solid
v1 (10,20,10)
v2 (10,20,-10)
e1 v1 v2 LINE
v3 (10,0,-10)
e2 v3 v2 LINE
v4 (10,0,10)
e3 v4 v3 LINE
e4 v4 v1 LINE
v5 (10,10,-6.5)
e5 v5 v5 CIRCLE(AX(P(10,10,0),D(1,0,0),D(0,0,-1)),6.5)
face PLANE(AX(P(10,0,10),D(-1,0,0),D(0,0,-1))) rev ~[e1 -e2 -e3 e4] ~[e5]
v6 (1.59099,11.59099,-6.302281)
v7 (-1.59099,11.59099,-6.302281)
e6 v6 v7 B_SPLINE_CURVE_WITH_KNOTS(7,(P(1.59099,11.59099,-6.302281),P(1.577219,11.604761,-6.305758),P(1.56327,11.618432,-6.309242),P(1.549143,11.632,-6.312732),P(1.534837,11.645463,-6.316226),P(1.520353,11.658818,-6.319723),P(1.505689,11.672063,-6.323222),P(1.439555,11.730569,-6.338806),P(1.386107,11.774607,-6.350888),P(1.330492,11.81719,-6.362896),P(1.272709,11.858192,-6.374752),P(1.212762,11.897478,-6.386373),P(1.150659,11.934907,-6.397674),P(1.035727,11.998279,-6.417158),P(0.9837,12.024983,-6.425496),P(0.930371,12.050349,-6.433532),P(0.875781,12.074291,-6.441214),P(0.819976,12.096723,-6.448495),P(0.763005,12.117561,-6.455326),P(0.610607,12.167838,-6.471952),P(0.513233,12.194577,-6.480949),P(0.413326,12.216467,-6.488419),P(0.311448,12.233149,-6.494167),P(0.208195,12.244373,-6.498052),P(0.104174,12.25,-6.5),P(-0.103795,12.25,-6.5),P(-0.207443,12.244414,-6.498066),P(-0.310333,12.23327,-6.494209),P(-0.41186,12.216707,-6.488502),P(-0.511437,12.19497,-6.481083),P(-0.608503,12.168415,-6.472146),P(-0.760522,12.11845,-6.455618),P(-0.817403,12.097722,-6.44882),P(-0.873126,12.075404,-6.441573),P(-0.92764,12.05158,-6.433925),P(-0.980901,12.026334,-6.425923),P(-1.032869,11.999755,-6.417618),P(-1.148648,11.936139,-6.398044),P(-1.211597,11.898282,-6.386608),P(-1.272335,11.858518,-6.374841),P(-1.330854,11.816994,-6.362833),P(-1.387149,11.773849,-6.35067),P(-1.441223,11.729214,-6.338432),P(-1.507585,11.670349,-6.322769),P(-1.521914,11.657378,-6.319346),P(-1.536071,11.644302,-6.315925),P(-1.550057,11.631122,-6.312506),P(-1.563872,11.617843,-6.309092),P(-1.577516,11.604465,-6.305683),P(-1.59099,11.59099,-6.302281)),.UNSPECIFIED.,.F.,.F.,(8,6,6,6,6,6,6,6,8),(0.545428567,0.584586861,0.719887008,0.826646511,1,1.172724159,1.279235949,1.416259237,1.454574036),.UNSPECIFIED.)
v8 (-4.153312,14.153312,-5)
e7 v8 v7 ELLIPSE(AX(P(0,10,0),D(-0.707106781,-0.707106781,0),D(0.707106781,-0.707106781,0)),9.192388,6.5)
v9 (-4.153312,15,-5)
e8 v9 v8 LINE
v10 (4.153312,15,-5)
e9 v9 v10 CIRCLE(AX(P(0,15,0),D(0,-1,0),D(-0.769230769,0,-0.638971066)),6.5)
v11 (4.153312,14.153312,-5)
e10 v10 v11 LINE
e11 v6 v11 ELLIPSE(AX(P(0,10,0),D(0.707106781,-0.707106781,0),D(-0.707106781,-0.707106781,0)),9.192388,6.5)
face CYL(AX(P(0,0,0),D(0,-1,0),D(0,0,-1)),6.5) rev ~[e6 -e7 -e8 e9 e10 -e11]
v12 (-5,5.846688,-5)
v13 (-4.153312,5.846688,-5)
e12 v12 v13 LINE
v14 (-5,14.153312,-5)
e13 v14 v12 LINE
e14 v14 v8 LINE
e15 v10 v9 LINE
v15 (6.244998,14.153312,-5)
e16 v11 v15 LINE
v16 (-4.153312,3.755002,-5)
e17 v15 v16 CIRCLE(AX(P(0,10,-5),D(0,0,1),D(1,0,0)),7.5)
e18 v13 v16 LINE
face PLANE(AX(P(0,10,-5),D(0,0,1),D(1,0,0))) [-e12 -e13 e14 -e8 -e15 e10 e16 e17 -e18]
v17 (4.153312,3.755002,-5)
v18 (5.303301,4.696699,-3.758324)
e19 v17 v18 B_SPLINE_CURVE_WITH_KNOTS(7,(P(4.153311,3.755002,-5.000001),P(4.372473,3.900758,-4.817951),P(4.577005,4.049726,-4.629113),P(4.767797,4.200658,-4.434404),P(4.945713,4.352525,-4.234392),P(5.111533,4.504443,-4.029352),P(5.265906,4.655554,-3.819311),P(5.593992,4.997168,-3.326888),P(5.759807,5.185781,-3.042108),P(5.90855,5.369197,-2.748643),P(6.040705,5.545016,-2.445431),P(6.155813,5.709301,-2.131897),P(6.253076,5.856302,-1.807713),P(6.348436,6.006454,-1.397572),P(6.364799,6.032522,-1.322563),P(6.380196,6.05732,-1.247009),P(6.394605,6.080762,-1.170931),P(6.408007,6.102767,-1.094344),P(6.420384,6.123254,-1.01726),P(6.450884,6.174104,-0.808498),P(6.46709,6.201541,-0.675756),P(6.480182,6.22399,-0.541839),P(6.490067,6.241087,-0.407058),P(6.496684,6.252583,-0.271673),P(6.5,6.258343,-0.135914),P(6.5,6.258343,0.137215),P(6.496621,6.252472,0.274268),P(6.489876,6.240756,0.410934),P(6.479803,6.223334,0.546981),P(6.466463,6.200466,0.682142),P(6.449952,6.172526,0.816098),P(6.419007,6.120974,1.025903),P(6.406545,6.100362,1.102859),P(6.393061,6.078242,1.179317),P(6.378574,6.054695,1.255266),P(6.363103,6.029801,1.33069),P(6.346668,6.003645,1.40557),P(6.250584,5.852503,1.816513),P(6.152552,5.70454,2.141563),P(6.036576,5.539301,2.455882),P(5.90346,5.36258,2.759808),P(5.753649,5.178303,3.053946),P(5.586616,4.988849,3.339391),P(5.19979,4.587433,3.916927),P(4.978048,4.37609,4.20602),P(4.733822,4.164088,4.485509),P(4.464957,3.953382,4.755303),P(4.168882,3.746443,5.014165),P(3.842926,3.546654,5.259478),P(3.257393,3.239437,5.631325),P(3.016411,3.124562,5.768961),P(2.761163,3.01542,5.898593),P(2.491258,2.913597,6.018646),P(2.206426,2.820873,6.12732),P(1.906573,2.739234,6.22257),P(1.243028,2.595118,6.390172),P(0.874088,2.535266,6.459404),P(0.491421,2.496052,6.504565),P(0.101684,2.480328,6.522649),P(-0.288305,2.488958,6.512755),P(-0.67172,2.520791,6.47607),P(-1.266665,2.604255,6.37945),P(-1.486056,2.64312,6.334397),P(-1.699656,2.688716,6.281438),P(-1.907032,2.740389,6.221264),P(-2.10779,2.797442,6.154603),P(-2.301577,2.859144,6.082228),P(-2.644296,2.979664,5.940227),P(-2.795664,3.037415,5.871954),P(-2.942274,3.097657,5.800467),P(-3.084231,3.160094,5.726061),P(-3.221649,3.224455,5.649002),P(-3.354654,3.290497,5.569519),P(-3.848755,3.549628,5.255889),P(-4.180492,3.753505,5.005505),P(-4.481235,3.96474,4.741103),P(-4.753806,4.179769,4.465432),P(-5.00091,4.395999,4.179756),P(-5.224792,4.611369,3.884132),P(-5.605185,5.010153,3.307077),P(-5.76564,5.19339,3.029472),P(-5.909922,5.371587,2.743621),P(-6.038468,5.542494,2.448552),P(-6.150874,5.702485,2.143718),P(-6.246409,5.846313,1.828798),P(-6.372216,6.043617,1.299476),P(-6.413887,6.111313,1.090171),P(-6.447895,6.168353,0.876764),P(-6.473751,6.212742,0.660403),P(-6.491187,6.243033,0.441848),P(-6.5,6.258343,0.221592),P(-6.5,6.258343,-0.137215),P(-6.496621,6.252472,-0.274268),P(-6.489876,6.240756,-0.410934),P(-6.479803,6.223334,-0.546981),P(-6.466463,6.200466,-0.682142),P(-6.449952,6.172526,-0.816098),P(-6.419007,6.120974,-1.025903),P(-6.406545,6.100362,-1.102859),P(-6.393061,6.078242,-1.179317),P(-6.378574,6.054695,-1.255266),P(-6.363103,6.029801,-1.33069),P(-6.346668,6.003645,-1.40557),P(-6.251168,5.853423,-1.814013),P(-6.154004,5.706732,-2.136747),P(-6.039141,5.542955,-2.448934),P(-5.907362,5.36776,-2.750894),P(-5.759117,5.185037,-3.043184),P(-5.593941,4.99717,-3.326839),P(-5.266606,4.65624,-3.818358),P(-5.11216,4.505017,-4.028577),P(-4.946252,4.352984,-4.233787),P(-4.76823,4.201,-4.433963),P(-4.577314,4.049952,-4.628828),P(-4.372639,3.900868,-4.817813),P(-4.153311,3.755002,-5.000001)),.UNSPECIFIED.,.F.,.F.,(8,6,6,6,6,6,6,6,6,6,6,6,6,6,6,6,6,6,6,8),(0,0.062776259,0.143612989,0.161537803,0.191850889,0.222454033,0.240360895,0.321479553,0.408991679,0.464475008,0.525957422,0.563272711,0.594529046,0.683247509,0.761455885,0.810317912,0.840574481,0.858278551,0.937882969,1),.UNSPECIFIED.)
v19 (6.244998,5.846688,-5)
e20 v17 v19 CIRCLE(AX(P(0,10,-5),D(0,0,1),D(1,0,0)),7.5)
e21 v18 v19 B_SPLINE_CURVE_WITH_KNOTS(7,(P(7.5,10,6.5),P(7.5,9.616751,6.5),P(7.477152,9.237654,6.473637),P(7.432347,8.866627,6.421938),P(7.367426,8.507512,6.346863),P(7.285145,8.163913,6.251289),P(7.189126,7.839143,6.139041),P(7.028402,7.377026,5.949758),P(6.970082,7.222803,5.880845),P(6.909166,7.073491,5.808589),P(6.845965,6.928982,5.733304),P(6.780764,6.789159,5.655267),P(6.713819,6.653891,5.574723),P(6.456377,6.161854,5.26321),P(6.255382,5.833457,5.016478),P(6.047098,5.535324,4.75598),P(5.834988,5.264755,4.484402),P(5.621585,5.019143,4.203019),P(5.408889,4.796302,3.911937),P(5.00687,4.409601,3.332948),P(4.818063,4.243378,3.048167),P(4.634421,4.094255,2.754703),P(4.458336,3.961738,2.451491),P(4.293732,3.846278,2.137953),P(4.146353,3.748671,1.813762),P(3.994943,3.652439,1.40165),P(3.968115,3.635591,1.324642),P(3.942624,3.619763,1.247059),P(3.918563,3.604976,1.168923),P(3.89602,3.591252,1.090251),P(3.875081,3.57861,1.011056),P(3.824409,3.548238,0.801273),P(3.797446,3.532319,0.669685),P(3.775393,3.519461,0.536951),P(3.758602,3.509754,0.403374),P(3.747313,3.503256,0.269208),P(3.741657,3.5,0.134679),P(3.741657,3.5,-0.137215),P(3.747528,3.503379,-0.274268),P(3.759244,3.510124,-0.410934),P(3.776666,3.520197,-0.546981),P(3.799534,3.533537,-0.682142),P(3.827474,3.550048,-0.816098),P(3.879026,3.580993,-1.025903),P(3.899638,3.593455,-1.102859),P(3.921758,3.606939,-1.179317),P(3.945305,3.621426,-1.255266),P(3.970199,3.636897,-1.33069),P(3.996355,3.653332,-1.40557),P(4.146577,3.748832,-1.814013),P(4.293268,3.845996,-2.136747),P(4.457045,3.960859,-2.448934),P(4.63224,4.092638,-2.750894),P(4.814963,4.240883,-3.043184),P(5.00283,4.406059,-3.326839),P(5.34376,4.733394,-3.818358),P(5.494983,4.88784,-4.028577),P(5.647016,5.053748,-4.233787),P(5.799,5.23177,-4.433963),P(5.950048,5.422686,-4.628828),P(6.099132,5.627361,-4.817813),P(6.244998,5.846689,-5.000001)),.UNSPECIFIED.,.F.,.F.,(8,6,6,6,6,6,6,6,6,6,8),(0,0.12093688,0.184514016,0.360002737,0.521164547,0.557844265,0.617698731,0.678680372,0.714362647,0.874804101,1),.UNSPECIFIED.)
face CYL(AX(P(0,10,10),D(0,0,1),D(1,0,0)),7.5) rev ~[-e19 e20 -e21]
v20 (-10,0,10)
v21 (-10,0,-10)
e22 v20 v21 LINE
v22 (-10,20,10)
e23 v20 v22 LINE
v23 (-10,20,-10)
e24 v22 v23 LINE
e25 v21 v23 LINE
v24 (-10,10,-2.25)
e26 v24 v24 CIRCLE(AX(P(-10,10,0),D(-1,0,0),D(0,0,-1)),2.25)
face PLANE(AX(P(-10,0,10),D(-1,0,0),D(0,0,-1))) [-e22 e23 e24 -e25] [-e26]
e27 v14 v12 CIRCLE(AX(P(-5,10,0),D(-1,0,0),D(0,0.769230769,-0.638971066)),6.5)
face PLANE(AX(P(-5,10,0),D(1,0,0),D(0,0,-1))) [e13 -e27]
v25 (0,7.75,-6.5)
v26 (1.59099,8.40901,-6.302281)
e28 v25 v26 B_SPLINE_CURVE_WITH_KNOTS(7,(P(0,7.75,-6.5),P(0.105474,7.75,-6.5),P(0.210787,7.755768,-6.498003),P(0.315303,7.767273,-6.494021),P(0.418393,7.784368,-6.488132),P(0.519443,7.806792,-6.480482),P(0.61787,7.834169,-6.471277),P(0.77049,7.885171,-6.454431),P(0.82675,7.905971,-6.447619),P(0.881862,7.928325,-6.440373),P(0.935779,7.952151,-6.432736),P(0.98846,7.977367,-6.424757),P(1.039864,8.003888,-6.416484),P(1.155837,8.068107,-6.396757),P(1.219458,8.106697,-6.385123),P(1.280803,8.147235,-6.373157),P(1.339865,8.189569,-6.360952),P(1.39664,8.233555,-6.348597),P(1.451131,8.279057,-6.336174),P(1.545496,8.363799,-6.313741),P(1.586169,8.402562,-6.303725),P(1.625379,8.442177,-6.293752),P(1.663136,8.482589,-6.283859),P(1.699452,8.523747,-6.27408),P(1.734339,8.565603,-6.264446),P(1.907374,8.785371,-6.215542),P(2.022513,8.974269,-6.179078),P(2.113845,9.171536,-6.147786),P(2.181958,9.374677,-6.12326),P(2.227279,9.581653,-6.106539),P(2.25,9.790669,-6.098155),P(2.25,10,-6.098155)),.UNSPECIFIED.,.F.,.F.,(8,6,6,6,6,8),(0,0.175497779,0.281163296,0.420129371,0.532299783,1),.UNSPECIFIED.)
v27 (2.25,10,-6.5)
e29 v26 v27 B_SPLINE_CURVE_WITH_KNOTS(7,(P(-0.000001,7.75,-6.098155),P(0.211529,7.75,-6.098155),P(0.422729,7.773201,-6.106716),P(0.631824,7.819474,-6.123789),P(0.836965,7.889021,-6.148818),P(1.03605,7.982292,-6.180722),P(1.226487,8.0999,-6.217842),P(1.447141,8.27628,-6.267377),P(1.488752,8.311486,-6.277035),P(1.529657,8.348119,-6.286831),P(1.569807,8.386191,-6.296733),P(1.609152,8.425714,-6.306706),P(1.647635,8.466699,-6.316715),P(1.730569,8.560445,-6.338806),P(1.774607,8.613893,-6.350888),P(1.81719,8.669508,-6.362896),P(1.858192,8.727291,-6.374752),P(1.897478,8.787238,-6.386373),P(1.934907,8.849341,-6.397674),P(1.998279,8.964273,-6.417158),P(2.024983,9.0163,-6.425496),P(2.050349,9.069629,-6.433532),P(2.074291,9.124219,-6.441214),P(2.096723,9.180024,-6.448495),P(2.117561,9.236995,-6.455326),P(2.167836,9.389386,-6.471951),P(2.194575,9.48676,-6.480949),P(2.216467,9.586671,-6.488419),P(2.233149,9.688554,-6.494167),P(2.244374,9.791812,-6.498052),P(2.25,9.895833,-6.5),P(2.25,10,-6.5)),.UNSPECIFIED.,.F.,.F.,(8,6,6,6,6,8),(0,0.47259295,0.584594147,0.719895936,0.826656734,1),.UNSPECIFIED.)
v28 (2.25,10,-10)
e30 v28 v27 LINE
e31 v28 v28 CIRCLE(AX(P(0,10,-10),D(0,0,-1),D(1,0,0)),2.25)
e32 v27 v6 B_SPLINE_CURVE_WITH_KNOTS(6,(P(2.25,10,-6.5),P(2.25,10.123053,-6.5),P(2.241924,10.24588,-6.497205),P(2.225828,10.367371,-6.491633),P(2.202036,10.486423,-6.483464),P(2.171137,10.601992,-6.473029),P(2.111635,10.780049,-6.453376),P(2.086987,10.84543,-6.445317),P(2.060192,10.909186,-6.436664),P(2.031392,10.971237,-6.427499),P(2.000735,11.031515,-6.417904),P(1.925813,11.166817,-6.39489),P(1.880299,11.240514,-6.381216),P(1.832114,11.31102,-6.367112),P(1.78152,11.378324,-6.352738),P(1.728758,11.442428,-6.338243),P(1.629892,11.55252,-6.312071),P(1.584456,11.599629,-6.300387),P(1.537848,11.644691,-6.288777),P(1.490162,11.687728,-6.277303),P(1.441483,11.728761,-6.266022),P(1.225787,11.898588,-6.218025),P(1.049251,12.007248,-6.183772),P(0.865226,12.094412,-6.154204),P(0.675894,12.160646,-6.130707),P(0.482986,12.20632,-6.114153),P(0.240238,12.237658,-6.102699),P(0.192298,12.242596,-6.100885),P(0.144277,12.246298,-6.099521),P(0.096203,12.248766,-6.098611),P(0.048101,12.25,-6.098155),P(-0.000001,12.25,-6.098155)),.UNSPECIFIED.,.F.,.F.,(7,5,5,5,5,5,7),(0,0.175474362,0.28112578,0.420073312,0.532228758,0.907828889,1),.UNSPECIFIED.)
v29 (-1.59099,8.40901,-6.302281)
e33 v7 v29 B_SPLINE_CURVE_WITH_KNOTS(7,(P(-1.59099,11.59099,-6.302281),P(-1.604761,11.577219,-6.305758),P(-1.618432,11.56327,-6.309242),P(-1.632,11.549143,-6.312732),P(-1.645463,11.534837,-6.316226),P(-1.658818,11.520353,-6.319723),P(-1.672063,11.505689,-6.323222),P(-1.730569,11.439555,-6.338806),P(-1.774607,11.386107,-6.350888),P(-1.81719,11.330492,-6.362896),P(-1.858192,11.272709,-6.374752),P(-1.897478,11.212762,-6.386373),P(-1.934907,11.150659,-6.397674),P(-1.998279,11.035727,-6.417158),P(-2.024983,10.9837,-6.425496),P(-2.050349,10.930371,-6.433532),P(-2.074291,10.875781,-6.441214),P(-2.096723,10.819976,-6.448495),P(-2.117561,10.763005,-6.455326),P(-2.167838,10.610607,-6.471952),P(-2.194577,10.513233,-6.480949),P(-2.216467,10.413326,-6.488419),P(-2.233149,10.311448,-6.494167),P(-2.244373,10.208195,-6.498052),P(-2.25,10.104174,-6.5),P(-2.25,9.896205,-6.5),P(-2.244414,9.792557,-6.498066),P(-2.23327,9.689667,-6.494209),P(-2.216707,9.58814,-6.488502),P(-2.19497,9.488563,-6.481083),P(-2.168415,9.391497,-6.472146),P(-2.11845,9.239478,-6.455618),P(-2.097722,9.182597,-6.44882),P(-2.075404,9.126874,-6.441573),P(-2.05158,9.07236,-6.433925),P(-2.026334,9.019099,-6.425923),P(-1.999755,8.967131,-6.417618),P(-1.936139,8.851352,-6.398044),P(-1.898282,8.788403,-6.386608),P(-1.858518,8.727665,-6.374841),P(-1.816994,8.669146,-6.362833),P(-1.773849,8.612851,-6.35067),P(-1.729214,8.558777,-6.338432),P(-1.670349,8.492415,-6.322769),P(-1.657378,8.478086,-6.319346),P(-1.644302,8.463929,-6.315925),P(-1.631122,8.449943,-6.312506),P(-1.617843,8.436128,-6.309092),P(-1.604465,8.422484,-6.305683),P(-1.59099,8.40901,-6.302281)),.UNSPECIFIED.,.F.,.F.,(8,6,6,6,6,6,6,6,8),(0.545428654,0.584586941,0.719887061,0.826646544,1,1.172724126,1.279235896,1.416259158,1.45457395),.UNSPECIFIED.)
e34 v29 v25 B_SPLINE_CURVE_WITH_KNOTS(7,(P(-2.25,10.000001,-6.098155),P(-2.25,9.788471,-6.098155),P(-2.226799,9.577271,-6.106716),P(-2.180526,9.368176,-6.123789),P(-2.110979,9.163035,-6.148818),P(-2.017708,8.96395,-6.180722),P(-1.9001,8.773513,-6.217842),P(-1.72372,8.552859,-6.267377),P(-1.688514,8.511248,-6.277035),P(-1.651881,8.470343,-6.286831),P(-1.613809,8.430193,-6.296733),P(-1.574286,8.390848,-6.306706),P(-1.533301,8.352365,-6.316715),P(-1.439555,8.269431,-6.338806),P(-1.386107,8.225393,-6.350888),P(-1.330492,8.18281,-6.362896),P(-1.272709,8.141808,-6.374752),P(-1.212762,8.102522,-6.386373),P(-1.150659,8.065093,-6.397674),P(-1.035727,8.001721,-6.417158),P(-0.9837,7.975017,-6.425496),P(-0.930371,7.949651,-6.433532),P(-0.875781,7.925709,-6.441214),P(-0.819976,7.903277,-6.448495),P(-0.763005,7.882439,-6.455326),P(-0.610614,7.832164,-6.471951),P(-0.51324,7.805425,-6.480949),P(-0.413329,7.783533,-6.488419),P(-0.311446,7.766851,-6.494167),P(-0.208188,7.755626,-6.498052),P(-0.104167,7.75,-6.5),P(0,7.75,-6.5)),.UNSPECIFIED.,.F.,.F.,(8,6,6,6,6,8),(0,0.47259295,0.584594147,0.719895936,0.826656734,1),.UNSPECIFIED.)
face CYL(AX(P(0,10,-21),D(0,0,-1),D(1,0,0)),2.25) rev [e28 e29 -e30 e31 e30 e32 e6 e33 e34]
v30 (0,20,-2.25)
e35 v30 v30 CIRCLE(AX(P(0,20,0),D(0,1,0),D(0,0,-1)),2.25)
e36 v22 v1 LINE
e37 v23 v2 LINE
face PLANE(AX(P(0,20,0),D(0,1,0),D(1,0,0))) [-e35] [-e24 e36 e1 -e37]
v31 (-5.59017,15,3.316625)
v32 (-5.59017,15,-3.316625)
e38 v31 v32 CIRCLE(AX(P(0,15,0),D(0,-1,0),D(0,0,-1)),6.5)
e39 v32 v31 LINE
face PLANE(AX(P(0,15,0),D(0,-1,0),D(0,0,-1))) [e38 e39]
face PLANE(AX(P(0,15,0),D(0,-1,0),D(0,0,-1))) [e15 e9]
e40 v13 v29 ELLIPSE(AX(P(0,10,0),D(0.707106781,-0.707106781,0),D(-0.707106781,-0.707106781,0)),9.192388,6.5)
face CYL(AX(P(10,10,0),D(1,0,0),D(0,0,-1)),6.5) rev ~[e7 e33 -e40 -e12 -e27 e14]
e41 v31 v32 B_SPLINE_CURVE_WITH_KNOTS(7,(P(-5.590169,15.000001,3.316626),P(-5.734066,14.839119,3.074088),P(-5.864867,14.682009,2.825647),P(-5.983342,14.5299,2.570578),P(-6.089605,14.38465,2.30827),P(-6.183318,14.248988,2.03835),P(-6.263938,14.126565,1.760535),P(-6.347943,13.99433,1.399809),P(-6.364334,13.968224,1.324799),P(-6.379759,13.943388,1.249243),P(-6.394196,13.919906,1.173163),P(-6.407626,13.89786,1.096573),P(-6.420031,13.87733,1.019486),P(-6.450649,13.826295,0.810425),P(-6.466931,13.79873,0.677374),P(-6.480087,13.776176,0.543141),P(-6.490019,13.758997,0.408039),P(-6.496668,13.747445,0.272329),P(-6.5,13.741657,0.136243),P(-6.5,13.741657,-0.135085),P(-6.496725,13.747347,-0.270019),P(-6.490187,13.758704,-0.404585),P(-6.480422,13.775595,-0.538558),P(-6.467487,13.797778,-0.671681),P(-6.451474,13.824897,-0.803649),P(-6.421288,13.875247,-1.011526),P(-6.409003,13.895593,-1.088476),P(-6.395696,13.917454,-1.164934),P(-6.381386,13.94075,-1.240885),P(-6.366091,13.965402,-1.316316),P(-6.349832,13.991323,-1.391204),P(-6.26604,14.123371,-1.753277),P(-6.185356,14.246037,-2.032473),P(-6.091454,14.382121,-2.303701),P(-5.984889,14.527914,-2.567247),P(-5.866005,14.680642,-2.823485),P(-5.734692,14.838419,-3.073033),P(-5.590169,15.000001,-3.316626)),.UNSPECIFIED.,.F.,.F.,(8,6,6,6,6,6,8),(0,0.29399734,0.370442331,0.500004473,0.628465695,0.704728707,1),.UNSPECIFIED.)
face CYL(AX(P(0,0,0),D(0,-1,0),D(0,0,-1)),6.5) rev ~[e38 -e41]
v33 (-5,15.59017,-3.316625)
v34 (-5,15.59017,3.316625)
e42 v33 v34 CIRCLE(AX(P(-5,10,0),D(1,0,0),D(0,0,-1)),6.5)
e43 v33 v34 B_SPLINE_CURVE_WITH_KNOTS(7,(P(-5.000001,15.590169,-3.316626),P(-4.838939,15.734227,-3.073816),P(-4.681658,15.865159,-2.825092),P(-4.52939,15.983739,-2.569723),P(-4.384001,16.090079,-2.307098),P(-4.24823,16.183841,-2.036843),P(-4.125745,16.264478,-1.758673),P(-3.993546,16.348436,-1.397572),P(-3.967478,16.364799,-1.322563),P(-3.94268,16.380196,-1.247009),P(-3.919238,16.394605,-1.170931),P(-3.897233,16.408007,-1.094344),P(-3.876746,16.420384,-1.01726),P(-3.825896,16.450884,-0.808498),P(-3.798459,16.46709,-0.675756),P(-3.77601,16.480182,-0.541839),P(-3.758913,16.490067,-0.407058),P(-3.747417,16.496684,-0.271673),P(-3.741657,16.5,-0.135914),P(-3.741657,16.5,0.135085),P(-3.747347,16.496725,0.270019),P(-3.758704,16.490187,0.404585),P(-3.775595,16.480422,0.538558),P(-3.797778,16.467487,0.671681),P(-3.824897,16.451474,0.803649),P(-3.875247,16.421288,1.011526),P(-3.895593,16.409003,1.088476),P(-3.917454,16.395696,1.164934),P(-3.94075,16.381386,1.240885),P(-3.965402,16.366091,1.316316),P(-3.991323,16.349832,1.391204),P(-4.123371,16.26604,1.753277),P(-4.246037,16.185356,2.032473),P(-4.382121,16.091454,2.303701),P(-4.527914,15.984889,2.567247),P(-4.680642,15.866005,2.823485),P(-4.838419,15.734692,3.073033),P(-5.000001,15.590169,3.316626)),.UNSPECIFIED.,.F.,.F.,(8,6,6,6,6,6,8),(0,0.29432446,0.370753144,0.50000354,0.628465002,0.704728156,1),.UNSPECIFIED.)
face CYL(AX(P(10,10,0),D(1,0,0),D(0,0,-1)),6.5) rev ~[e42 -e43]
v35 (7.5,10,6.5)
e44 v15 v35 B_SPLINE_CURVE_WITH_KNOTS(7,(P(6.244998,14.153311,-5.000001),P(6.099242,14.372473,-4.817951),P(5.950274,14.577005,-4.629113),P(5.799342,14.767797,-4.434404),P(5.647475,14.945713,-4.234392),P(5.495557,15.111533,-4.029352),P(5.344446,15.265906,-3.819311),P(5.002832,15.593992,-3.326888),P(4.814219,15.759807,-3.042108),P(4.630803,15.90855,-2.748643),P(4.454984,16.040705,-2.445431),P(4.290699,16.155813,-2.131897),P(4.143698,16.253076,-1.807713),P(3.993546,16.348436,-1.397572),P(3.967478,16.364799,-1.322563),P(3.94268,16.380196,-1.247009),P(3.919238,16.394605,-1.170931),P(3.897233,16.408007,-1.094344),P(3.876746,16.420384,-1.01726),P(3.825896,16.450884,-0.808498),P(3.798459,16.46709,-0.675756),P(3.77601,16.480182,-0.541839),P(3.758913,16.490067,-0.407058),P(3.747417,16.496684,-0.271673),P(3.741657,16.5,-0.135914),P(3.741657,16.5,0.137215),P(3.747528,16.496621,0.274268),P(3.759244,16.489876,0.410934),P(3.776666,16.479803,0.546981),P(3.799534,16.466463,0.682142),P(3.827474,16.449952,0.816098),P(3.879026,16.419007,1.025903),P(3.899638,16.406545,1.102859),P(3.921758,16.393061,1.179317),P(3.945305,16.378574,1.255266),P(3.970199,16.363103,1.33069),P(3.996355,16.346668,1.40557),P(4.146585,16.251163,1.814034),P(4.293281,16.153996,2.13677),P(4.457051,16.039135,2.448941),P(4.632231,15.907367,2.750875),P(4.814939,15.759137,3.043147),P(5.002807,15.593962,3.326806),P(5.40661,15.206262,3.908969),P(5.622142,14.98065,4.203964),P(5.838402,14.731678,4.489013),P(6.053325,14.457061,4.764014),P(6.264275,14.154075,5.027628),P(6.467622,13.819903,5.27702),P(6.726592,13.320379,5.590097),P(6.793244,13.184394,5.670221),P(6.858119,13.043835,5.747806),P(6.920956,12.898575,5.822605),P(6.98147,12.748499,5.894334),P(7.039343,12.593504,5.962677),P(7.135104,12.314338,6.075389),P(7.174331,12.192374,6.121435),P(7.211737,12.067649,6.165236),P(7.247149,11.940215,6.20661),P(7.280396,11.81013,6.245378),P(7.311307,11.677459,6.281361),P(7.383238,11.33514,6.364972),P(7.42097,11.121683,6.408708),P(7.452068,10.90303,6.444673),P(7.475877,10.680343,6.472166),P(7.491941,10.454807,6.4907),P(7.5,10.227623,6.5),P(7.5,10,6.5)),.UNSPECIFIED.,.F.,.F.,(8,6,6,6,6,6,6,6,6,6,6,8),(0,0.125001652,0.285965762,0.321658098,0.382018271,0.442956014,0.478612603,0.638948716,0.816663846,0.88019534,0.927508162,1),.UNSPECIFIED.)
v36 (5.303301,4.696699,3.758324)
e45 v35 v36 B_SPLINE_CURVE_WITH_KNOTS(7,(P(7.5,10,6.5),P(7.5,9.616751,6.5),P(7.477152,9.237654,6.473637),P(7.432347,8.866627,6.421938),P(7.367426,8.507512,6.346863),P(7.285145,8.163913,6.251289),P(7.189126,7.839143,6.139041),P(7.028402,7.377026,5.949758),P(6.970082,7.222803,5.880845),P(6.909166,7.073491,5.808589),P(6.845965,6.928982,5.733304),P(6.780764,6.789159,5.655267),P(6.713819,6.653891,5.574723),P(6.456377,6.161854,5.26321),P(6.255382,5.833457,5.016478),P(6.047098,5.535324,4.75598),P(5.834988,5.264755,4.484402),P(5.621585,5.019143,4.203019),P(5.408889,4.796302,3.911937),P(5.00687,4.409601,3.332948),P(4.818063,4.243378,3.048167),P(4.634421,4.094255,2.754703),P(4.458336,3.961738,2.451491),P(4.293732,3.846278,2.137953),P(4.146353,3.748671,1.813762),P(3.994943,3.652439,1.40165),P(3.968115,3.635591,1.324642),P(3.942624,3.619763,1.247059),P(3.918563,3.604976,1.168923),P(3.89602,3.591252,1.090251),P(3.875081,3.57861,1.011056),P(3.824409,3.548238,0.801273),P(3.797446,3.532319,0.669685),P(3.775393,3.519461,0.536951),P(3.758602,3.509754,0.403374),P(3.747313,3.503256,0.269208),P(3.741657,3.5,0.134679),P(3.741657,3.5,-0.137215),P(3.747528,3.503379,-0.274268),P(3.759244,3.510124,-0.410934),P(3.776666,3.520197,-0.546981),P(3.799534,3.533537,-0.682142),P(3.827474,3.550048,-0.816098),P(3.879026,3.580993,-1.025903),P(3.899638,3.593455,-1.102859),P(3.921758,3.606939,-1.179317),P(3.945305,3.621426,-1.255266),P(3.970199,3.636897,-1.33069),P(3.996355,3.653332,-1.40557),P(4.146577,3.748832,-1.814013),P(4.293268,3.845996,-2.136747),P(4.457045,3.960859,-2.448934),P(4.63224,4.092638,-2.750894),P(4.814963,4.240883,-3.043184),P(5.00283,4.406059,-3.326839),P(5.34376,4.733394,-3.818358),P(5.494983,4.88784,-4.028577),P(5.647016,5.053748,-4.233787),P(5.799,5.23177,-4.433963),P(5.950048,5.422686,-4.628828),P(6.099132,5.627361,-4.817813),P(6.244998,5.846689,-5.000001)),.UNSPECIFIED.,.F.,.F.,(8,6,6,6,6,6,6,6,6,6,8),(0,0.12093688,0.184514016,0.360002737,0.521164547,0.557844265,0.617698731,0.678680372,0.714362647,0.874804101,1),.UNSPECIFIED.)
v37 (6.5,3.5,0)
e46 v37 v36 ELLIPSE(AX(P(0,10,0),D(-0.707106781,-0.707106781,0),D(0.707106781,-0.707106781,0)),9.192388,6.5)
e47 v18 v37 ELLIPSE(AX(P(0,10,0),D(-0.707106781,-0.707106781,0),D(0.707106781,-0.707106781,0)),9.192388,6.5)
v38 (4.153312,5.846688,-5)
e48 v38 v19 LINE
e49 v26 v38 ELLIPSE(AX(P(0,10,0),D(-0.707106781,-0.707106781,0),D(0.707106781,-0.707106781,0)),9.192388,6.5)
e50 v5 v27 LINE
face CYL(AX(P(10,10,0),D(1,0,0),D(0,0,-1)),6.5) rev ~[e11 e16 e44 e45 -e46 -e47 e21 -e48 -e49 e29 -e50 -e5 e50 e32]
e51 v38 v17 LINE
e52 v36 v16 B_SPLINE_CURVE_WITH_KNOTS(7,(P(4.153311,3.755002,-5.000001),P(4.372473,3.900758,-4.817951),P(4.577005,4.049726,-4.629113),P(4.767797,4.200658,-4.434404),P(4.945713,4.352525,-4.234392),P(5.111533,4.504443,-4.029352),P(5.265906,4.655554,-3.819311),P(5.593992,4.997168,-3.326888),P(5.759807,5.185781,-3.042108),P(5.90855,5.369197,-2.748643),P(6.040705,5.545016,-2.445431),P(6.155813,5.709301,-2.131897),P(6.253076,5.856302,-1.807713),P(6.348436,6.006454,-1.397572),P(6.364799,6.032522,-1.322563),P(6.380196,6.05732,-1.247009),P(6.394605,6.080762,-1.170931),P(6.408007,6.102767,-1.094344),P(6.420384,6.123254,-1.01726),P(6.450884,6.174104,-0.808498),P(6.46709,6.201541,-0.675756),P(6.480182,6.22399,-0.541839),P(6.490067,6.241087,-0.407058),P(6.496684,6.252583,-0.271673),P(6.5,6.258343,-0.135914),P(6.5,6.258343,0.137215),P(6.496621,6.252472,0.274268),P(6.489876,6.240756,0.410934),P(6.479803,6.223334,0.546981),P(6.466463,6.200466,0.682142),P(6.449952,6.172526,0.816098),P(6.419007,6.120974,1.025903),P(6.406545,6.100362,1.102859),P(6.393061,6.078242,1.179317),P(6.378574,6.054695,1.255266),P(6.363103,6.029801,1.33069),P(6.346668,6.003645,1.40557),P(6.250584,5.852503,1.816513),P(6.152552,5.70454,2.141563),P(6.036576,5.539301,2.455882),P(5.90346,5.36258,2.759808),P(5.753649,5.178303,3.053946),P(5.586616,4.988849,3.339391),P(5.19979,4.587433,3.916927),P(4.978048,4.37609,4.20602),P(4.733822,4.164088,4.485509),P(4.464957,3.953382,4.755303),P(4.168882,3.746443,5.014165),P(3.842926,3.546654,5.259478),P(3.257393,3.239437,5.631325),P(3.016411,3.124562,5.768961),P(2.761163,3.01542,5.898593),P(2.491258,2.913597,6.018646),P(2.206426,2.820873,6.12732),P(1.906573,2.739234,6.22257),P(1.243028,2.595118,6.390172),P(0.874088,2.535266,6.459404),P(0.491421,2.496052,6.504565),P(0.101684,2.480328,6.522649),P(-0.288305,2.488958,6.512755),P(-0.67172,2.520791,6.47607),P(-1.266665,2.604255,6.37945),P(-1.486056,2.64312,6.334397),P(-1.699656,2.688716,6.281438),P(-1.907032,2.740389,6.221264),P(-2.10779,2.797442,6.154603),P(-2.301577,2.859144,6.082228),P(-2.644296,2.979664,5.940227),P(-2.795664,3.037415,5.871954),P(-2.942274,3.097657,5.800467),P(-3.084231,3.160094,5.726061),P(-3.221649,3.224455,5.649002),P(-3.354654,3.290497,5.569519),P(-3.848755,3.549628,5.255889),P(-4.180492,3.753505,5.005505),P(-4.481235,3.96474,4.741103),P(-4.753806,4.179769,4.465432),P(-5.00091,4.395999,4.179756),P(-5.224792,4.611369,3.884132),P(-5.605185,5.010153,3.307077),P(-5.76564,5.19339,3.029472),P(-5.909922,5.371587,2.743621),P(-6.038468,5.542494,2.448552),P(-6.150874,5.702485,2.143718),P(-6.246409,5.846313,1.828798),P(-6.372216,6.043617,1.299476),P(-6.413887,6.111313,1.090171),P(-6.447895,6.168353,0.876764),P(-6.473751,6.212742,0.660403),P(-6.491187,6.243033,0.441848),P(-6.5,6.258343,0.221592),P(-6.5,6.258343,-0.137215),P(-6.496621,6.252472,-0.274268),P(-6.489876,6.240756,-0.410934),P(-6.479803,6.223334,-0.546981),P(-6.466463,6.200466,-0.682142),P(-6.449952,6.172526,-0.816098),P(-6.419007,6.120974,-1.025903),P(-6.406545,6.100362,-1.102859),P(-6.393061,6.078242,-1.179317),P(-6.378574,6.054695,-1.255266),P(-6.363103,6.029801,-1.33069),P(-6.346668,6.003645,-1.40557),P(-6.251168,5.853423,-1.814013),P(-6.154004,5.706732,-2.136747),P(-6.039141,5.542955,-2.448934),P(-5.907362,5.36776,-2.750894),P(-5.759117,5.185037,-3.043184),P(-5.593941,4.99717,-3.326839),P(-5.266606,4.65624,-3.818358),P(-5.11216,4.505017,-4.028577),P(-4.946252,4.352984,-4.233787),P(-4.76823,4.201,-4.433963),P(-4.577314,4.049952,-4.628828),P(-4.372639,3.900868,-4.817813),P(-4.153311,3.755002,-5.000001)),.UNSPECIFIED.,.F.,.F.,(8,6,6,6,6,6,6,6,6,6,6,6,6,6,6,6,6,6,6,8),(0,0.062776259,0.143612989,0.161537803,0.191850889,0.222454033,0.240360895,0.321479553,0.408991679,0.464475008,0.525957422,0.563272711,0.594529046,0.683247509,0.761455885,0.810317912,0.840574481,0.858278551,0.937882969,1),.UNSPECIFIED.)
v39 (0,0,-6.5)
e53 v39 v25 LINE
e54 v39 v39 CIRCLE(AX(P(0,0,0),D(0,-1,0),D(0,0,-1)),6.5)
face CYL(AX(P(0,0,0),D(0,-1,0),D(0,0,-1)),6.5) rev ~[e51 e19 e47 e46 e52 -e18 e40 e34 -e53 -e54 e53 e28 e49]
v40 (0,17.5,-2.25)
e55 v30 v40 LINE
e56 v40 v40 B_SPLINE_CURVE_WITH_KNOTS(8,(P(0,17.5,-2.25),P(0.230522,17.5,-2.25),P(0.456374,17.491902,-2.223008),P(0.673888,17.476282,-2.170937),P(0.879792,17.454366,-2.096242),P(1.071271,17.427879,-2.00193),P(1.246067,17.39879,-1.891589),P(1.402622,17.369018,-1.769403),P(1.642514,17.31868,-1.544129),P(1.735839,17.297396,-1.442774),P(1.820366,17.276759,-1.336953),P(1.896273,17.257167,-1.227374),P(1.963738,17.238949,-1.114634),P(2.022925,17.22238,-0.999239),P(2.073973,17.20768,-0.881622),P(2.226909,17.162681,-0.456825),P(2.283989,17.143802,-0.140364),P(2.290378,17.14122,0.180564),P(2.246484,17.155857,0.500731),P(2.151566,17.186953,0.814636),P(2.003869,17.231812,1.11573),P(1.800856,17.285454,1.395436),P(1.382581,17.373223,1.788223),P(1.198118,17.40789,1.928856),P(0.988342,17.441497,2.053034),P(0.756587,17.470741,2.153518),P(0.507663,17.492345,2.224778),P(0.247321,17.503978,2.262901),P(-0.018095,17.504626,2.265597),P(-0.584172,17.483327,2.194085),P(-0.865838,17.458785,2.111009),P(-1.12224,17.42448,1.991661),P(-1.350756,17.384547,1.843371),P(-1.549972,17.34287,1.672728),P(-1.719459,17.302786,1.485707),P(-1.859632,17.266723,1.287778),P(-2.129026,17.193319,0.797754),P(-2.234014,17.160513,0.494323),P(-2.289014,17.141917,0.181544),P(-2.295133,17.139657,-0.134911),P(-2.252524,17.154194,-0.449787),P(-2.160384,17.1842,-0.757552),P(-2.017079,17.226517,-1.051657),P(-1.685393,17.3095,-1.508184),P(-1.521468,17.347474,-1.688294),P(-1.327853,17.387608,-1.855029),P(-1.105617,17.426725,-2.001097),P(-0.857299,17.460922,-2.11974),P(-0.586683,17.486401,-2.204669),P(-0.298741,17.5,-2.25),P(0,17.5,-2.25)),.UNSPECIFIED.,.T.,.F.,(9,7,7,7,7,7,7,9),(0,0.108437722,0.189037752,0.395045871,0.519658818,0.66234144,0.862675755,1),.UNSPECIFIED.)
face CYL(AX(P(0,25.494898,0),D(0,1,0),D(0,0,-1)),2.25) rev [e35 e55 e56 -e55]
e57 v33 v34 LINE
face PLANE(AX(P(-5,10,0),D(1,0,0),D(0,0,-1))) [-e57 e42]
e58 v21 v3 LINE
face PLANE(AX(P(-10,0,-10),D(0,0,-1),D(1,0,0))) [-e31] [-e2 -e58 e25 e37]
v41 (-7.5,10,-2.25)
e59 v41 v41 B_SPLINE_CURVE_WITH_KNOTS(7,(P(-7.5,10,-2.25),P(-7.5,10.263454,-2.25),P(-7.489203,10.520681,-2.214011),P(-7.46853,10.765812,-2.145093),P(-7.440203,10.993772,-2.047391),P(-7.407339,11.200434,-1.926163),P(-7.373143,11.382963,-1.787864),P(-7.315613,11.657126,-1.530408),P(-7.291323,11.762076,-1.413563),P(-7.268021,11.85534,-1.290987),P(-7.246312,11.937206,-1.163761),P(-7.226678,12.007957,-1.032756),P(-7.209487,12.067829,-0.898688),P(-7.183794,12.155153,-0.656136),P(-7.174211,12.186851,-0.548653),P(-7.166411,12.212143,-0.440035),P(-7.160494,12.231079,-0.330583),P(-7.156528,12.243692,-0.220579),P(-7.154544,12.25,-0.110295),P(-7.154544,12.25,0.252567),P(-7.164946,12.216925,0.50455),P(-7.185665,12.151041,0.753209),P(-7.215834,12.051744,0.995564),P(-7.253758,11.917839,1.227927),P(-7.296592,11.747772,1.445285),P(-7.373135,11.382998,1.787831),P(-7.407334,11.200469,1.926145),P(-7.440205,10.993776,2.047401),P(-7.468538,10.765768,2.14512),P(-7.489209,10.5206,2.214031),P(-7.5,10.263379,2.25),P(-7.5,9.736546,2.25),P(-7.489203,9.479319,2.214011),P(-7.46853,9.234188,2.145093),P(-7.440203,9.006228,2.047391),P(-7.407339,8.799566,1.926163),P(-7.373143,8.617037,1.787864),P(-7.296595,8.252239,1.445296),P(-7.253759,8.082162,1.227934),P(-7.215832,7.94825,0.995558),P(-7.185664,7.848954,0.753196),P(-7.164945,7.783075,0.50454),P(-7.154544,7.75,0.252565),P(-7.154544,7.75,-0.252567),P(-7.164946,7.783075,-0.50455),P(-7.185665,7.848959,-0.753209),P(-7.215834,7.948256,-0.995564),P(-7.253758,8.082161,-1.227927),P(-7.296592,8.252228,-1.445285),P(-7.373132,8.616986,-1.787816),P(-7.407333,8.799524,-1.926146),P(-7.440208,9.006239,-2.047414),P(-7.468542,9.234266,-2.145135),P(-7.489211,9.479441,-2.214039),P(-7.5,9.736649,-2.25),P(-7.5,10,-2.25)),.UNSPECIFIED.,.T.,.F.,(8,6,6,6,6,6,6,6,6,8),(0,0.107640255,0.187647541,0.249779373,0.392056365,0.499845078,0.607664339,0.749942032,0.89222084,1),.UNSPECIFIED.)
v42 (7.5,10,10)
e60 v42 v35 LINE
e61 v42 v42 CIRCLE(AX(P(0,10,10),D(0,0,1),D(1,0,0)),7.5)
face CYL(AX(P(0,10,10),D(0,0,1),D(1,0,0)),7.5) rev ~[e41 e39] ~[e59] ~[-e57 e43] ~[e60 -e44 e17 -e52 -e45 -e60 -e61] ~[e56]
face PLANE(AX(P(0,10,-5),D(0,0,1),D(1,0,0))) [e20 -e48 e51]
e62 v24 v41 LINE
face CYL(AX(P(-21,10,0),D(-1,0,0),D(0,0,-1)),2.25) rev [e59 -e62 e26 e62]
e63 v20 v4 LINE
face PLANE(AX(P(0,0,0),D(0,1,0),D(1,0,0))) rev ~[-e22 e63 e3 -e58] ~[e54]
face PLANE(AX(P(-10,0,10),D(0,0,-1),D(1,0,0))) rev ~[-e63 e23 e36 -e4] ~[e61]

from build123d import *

# Parameters (mm, degrees)
SKETCH_1_W               = 20
SKETCH_1_H               = 20
EXTRUDE_1_DEPTH          = 20
SKETCH_2_R               = 6.5
CUT_EXTRUDE_1_DEPTH      = 15
SKETCH_3_R               = 6.5
CUT_EXTRUDE_2_DEPTH      = 15
SKETCH_4_R               = 7.5
CUT_EXTRUDE_3_DEPTH      = 15
CUT_EXTRUDE_5_DEPTH      = 25.494897509
CUT_EXTRUDE_5_DEPTH_BACK = 25.494897509
SKETCH_5_R               = 2.25
CUT_EXTRUDE_6_DEPTH      = 31.0000001
CUT_EXTRUDE_6_DEPTH_BACK = 31.0000001
SKETCH_6_R               = 2.25
CUT_EXTRUDE_7_DEPTH      = 31.0000001
CUT_EXTRUDE_7_DEPTH_BACK = 31.0000001
SKETCH_7_R               = 2.25


with BuildPart() as part:
    # 草图1 → 凸台-拉伸1 (new body)
    with BuildSketch(Plane(origin=(0, 0, 0), x_dir=(1, 0, 0), z_dir=(0, 1, 0))):
        Rectangle(SKETCH_1_W, SKETCH_1_H)
    extrude(amount=EXTRUDE_1_DEPTH)

    # 草图2 → 切除-拉伸1 (cut)
    with BuildSketch(Plane.XZ):
        with Locations(Location((0, 0, 0), (0, 0, 270))):
            Circle(SKETCH_2_R)
    extrude(amount=-CUT_EXTRUDE_1_DEPTH, mode=Mode.SUBTRACT)

    # 草图3 → 切除-拉伸2 (cut)
    with BuildSketch(Plane(origin=(10, 0, 0), x_dir=(0, 0, -1), z_dir=(1, 0, 0))):
        with Locations((0, 10)):
            Circle(SKETCH_3_R)
    extrude(amount=-CUT_EXTRUDE_2_DEPTH, mode=Mode.SUBTRACT)

    # 草图4 → 切除-拉伸3 (cut)
    with BuildSketch(Plane.XY.offset(10)):
        with Locations((0, 10)):
            Circle(SKETCH_4_R)
    extrude(amount=-CUT_EXTRUDE_3_DEPTH, mode=Mode.SUBTRACT)

    # 草图5 → 切除-拉伸5 (cut, two sides: drawn at the far end of the back side and taken through both)
    with BuildSketch(Plane.XZ.offset(-CUT_EXTRUDE_5_DEPTH_BACK)):
        with Locations(Location((0, 0, 0), (0, 0, 270))):
            Circle(SKETCH_5_R)
    extrude(amount=CUT_EXTRUDE_5_DEPTH + CUT_EXTRUDE_5_DEPTH_BACK, mode=Mode.SUBTRACT)

    # 草图6 → 切除-拉伸6 (cut, two sides: drawn at the far end of the back side and taken through both)
    with BuildSketch(Plane.XY.offset(10).offset(-CUT_EXTRUDE_6_DEPTH_BACK)):
        with Locations((0, 10)):
            Circle(SKETCH_6_R)
    extrude(amount=CUT_EXTRUDE_6_DEPTH + CUT_EXTRUDE_6_DEPTH_BACK, mode=Mode.SUBTRACT)

    # 草图7 → 切除-拉伸7 (cut, two sides: drawn at the far end of the back side and taken through both)
    with BuildSketch(Plane(origin=(10, 0, 0), x_dir=(0, 0, -1), z_dir=(1, 0, 0)).offset(-CUT_EXTRUDE_7_DEPTH_BACK)):
        with Locations((0, 10)):
            Circle(SKETCH_7_R)
    extrude(amount=CUT_EXTRUDE_7_DEPTH + CUT_EXTRUDE_7_DEPTH_BACK, mode=Mode.SUBTRACT)


solid = part.part
